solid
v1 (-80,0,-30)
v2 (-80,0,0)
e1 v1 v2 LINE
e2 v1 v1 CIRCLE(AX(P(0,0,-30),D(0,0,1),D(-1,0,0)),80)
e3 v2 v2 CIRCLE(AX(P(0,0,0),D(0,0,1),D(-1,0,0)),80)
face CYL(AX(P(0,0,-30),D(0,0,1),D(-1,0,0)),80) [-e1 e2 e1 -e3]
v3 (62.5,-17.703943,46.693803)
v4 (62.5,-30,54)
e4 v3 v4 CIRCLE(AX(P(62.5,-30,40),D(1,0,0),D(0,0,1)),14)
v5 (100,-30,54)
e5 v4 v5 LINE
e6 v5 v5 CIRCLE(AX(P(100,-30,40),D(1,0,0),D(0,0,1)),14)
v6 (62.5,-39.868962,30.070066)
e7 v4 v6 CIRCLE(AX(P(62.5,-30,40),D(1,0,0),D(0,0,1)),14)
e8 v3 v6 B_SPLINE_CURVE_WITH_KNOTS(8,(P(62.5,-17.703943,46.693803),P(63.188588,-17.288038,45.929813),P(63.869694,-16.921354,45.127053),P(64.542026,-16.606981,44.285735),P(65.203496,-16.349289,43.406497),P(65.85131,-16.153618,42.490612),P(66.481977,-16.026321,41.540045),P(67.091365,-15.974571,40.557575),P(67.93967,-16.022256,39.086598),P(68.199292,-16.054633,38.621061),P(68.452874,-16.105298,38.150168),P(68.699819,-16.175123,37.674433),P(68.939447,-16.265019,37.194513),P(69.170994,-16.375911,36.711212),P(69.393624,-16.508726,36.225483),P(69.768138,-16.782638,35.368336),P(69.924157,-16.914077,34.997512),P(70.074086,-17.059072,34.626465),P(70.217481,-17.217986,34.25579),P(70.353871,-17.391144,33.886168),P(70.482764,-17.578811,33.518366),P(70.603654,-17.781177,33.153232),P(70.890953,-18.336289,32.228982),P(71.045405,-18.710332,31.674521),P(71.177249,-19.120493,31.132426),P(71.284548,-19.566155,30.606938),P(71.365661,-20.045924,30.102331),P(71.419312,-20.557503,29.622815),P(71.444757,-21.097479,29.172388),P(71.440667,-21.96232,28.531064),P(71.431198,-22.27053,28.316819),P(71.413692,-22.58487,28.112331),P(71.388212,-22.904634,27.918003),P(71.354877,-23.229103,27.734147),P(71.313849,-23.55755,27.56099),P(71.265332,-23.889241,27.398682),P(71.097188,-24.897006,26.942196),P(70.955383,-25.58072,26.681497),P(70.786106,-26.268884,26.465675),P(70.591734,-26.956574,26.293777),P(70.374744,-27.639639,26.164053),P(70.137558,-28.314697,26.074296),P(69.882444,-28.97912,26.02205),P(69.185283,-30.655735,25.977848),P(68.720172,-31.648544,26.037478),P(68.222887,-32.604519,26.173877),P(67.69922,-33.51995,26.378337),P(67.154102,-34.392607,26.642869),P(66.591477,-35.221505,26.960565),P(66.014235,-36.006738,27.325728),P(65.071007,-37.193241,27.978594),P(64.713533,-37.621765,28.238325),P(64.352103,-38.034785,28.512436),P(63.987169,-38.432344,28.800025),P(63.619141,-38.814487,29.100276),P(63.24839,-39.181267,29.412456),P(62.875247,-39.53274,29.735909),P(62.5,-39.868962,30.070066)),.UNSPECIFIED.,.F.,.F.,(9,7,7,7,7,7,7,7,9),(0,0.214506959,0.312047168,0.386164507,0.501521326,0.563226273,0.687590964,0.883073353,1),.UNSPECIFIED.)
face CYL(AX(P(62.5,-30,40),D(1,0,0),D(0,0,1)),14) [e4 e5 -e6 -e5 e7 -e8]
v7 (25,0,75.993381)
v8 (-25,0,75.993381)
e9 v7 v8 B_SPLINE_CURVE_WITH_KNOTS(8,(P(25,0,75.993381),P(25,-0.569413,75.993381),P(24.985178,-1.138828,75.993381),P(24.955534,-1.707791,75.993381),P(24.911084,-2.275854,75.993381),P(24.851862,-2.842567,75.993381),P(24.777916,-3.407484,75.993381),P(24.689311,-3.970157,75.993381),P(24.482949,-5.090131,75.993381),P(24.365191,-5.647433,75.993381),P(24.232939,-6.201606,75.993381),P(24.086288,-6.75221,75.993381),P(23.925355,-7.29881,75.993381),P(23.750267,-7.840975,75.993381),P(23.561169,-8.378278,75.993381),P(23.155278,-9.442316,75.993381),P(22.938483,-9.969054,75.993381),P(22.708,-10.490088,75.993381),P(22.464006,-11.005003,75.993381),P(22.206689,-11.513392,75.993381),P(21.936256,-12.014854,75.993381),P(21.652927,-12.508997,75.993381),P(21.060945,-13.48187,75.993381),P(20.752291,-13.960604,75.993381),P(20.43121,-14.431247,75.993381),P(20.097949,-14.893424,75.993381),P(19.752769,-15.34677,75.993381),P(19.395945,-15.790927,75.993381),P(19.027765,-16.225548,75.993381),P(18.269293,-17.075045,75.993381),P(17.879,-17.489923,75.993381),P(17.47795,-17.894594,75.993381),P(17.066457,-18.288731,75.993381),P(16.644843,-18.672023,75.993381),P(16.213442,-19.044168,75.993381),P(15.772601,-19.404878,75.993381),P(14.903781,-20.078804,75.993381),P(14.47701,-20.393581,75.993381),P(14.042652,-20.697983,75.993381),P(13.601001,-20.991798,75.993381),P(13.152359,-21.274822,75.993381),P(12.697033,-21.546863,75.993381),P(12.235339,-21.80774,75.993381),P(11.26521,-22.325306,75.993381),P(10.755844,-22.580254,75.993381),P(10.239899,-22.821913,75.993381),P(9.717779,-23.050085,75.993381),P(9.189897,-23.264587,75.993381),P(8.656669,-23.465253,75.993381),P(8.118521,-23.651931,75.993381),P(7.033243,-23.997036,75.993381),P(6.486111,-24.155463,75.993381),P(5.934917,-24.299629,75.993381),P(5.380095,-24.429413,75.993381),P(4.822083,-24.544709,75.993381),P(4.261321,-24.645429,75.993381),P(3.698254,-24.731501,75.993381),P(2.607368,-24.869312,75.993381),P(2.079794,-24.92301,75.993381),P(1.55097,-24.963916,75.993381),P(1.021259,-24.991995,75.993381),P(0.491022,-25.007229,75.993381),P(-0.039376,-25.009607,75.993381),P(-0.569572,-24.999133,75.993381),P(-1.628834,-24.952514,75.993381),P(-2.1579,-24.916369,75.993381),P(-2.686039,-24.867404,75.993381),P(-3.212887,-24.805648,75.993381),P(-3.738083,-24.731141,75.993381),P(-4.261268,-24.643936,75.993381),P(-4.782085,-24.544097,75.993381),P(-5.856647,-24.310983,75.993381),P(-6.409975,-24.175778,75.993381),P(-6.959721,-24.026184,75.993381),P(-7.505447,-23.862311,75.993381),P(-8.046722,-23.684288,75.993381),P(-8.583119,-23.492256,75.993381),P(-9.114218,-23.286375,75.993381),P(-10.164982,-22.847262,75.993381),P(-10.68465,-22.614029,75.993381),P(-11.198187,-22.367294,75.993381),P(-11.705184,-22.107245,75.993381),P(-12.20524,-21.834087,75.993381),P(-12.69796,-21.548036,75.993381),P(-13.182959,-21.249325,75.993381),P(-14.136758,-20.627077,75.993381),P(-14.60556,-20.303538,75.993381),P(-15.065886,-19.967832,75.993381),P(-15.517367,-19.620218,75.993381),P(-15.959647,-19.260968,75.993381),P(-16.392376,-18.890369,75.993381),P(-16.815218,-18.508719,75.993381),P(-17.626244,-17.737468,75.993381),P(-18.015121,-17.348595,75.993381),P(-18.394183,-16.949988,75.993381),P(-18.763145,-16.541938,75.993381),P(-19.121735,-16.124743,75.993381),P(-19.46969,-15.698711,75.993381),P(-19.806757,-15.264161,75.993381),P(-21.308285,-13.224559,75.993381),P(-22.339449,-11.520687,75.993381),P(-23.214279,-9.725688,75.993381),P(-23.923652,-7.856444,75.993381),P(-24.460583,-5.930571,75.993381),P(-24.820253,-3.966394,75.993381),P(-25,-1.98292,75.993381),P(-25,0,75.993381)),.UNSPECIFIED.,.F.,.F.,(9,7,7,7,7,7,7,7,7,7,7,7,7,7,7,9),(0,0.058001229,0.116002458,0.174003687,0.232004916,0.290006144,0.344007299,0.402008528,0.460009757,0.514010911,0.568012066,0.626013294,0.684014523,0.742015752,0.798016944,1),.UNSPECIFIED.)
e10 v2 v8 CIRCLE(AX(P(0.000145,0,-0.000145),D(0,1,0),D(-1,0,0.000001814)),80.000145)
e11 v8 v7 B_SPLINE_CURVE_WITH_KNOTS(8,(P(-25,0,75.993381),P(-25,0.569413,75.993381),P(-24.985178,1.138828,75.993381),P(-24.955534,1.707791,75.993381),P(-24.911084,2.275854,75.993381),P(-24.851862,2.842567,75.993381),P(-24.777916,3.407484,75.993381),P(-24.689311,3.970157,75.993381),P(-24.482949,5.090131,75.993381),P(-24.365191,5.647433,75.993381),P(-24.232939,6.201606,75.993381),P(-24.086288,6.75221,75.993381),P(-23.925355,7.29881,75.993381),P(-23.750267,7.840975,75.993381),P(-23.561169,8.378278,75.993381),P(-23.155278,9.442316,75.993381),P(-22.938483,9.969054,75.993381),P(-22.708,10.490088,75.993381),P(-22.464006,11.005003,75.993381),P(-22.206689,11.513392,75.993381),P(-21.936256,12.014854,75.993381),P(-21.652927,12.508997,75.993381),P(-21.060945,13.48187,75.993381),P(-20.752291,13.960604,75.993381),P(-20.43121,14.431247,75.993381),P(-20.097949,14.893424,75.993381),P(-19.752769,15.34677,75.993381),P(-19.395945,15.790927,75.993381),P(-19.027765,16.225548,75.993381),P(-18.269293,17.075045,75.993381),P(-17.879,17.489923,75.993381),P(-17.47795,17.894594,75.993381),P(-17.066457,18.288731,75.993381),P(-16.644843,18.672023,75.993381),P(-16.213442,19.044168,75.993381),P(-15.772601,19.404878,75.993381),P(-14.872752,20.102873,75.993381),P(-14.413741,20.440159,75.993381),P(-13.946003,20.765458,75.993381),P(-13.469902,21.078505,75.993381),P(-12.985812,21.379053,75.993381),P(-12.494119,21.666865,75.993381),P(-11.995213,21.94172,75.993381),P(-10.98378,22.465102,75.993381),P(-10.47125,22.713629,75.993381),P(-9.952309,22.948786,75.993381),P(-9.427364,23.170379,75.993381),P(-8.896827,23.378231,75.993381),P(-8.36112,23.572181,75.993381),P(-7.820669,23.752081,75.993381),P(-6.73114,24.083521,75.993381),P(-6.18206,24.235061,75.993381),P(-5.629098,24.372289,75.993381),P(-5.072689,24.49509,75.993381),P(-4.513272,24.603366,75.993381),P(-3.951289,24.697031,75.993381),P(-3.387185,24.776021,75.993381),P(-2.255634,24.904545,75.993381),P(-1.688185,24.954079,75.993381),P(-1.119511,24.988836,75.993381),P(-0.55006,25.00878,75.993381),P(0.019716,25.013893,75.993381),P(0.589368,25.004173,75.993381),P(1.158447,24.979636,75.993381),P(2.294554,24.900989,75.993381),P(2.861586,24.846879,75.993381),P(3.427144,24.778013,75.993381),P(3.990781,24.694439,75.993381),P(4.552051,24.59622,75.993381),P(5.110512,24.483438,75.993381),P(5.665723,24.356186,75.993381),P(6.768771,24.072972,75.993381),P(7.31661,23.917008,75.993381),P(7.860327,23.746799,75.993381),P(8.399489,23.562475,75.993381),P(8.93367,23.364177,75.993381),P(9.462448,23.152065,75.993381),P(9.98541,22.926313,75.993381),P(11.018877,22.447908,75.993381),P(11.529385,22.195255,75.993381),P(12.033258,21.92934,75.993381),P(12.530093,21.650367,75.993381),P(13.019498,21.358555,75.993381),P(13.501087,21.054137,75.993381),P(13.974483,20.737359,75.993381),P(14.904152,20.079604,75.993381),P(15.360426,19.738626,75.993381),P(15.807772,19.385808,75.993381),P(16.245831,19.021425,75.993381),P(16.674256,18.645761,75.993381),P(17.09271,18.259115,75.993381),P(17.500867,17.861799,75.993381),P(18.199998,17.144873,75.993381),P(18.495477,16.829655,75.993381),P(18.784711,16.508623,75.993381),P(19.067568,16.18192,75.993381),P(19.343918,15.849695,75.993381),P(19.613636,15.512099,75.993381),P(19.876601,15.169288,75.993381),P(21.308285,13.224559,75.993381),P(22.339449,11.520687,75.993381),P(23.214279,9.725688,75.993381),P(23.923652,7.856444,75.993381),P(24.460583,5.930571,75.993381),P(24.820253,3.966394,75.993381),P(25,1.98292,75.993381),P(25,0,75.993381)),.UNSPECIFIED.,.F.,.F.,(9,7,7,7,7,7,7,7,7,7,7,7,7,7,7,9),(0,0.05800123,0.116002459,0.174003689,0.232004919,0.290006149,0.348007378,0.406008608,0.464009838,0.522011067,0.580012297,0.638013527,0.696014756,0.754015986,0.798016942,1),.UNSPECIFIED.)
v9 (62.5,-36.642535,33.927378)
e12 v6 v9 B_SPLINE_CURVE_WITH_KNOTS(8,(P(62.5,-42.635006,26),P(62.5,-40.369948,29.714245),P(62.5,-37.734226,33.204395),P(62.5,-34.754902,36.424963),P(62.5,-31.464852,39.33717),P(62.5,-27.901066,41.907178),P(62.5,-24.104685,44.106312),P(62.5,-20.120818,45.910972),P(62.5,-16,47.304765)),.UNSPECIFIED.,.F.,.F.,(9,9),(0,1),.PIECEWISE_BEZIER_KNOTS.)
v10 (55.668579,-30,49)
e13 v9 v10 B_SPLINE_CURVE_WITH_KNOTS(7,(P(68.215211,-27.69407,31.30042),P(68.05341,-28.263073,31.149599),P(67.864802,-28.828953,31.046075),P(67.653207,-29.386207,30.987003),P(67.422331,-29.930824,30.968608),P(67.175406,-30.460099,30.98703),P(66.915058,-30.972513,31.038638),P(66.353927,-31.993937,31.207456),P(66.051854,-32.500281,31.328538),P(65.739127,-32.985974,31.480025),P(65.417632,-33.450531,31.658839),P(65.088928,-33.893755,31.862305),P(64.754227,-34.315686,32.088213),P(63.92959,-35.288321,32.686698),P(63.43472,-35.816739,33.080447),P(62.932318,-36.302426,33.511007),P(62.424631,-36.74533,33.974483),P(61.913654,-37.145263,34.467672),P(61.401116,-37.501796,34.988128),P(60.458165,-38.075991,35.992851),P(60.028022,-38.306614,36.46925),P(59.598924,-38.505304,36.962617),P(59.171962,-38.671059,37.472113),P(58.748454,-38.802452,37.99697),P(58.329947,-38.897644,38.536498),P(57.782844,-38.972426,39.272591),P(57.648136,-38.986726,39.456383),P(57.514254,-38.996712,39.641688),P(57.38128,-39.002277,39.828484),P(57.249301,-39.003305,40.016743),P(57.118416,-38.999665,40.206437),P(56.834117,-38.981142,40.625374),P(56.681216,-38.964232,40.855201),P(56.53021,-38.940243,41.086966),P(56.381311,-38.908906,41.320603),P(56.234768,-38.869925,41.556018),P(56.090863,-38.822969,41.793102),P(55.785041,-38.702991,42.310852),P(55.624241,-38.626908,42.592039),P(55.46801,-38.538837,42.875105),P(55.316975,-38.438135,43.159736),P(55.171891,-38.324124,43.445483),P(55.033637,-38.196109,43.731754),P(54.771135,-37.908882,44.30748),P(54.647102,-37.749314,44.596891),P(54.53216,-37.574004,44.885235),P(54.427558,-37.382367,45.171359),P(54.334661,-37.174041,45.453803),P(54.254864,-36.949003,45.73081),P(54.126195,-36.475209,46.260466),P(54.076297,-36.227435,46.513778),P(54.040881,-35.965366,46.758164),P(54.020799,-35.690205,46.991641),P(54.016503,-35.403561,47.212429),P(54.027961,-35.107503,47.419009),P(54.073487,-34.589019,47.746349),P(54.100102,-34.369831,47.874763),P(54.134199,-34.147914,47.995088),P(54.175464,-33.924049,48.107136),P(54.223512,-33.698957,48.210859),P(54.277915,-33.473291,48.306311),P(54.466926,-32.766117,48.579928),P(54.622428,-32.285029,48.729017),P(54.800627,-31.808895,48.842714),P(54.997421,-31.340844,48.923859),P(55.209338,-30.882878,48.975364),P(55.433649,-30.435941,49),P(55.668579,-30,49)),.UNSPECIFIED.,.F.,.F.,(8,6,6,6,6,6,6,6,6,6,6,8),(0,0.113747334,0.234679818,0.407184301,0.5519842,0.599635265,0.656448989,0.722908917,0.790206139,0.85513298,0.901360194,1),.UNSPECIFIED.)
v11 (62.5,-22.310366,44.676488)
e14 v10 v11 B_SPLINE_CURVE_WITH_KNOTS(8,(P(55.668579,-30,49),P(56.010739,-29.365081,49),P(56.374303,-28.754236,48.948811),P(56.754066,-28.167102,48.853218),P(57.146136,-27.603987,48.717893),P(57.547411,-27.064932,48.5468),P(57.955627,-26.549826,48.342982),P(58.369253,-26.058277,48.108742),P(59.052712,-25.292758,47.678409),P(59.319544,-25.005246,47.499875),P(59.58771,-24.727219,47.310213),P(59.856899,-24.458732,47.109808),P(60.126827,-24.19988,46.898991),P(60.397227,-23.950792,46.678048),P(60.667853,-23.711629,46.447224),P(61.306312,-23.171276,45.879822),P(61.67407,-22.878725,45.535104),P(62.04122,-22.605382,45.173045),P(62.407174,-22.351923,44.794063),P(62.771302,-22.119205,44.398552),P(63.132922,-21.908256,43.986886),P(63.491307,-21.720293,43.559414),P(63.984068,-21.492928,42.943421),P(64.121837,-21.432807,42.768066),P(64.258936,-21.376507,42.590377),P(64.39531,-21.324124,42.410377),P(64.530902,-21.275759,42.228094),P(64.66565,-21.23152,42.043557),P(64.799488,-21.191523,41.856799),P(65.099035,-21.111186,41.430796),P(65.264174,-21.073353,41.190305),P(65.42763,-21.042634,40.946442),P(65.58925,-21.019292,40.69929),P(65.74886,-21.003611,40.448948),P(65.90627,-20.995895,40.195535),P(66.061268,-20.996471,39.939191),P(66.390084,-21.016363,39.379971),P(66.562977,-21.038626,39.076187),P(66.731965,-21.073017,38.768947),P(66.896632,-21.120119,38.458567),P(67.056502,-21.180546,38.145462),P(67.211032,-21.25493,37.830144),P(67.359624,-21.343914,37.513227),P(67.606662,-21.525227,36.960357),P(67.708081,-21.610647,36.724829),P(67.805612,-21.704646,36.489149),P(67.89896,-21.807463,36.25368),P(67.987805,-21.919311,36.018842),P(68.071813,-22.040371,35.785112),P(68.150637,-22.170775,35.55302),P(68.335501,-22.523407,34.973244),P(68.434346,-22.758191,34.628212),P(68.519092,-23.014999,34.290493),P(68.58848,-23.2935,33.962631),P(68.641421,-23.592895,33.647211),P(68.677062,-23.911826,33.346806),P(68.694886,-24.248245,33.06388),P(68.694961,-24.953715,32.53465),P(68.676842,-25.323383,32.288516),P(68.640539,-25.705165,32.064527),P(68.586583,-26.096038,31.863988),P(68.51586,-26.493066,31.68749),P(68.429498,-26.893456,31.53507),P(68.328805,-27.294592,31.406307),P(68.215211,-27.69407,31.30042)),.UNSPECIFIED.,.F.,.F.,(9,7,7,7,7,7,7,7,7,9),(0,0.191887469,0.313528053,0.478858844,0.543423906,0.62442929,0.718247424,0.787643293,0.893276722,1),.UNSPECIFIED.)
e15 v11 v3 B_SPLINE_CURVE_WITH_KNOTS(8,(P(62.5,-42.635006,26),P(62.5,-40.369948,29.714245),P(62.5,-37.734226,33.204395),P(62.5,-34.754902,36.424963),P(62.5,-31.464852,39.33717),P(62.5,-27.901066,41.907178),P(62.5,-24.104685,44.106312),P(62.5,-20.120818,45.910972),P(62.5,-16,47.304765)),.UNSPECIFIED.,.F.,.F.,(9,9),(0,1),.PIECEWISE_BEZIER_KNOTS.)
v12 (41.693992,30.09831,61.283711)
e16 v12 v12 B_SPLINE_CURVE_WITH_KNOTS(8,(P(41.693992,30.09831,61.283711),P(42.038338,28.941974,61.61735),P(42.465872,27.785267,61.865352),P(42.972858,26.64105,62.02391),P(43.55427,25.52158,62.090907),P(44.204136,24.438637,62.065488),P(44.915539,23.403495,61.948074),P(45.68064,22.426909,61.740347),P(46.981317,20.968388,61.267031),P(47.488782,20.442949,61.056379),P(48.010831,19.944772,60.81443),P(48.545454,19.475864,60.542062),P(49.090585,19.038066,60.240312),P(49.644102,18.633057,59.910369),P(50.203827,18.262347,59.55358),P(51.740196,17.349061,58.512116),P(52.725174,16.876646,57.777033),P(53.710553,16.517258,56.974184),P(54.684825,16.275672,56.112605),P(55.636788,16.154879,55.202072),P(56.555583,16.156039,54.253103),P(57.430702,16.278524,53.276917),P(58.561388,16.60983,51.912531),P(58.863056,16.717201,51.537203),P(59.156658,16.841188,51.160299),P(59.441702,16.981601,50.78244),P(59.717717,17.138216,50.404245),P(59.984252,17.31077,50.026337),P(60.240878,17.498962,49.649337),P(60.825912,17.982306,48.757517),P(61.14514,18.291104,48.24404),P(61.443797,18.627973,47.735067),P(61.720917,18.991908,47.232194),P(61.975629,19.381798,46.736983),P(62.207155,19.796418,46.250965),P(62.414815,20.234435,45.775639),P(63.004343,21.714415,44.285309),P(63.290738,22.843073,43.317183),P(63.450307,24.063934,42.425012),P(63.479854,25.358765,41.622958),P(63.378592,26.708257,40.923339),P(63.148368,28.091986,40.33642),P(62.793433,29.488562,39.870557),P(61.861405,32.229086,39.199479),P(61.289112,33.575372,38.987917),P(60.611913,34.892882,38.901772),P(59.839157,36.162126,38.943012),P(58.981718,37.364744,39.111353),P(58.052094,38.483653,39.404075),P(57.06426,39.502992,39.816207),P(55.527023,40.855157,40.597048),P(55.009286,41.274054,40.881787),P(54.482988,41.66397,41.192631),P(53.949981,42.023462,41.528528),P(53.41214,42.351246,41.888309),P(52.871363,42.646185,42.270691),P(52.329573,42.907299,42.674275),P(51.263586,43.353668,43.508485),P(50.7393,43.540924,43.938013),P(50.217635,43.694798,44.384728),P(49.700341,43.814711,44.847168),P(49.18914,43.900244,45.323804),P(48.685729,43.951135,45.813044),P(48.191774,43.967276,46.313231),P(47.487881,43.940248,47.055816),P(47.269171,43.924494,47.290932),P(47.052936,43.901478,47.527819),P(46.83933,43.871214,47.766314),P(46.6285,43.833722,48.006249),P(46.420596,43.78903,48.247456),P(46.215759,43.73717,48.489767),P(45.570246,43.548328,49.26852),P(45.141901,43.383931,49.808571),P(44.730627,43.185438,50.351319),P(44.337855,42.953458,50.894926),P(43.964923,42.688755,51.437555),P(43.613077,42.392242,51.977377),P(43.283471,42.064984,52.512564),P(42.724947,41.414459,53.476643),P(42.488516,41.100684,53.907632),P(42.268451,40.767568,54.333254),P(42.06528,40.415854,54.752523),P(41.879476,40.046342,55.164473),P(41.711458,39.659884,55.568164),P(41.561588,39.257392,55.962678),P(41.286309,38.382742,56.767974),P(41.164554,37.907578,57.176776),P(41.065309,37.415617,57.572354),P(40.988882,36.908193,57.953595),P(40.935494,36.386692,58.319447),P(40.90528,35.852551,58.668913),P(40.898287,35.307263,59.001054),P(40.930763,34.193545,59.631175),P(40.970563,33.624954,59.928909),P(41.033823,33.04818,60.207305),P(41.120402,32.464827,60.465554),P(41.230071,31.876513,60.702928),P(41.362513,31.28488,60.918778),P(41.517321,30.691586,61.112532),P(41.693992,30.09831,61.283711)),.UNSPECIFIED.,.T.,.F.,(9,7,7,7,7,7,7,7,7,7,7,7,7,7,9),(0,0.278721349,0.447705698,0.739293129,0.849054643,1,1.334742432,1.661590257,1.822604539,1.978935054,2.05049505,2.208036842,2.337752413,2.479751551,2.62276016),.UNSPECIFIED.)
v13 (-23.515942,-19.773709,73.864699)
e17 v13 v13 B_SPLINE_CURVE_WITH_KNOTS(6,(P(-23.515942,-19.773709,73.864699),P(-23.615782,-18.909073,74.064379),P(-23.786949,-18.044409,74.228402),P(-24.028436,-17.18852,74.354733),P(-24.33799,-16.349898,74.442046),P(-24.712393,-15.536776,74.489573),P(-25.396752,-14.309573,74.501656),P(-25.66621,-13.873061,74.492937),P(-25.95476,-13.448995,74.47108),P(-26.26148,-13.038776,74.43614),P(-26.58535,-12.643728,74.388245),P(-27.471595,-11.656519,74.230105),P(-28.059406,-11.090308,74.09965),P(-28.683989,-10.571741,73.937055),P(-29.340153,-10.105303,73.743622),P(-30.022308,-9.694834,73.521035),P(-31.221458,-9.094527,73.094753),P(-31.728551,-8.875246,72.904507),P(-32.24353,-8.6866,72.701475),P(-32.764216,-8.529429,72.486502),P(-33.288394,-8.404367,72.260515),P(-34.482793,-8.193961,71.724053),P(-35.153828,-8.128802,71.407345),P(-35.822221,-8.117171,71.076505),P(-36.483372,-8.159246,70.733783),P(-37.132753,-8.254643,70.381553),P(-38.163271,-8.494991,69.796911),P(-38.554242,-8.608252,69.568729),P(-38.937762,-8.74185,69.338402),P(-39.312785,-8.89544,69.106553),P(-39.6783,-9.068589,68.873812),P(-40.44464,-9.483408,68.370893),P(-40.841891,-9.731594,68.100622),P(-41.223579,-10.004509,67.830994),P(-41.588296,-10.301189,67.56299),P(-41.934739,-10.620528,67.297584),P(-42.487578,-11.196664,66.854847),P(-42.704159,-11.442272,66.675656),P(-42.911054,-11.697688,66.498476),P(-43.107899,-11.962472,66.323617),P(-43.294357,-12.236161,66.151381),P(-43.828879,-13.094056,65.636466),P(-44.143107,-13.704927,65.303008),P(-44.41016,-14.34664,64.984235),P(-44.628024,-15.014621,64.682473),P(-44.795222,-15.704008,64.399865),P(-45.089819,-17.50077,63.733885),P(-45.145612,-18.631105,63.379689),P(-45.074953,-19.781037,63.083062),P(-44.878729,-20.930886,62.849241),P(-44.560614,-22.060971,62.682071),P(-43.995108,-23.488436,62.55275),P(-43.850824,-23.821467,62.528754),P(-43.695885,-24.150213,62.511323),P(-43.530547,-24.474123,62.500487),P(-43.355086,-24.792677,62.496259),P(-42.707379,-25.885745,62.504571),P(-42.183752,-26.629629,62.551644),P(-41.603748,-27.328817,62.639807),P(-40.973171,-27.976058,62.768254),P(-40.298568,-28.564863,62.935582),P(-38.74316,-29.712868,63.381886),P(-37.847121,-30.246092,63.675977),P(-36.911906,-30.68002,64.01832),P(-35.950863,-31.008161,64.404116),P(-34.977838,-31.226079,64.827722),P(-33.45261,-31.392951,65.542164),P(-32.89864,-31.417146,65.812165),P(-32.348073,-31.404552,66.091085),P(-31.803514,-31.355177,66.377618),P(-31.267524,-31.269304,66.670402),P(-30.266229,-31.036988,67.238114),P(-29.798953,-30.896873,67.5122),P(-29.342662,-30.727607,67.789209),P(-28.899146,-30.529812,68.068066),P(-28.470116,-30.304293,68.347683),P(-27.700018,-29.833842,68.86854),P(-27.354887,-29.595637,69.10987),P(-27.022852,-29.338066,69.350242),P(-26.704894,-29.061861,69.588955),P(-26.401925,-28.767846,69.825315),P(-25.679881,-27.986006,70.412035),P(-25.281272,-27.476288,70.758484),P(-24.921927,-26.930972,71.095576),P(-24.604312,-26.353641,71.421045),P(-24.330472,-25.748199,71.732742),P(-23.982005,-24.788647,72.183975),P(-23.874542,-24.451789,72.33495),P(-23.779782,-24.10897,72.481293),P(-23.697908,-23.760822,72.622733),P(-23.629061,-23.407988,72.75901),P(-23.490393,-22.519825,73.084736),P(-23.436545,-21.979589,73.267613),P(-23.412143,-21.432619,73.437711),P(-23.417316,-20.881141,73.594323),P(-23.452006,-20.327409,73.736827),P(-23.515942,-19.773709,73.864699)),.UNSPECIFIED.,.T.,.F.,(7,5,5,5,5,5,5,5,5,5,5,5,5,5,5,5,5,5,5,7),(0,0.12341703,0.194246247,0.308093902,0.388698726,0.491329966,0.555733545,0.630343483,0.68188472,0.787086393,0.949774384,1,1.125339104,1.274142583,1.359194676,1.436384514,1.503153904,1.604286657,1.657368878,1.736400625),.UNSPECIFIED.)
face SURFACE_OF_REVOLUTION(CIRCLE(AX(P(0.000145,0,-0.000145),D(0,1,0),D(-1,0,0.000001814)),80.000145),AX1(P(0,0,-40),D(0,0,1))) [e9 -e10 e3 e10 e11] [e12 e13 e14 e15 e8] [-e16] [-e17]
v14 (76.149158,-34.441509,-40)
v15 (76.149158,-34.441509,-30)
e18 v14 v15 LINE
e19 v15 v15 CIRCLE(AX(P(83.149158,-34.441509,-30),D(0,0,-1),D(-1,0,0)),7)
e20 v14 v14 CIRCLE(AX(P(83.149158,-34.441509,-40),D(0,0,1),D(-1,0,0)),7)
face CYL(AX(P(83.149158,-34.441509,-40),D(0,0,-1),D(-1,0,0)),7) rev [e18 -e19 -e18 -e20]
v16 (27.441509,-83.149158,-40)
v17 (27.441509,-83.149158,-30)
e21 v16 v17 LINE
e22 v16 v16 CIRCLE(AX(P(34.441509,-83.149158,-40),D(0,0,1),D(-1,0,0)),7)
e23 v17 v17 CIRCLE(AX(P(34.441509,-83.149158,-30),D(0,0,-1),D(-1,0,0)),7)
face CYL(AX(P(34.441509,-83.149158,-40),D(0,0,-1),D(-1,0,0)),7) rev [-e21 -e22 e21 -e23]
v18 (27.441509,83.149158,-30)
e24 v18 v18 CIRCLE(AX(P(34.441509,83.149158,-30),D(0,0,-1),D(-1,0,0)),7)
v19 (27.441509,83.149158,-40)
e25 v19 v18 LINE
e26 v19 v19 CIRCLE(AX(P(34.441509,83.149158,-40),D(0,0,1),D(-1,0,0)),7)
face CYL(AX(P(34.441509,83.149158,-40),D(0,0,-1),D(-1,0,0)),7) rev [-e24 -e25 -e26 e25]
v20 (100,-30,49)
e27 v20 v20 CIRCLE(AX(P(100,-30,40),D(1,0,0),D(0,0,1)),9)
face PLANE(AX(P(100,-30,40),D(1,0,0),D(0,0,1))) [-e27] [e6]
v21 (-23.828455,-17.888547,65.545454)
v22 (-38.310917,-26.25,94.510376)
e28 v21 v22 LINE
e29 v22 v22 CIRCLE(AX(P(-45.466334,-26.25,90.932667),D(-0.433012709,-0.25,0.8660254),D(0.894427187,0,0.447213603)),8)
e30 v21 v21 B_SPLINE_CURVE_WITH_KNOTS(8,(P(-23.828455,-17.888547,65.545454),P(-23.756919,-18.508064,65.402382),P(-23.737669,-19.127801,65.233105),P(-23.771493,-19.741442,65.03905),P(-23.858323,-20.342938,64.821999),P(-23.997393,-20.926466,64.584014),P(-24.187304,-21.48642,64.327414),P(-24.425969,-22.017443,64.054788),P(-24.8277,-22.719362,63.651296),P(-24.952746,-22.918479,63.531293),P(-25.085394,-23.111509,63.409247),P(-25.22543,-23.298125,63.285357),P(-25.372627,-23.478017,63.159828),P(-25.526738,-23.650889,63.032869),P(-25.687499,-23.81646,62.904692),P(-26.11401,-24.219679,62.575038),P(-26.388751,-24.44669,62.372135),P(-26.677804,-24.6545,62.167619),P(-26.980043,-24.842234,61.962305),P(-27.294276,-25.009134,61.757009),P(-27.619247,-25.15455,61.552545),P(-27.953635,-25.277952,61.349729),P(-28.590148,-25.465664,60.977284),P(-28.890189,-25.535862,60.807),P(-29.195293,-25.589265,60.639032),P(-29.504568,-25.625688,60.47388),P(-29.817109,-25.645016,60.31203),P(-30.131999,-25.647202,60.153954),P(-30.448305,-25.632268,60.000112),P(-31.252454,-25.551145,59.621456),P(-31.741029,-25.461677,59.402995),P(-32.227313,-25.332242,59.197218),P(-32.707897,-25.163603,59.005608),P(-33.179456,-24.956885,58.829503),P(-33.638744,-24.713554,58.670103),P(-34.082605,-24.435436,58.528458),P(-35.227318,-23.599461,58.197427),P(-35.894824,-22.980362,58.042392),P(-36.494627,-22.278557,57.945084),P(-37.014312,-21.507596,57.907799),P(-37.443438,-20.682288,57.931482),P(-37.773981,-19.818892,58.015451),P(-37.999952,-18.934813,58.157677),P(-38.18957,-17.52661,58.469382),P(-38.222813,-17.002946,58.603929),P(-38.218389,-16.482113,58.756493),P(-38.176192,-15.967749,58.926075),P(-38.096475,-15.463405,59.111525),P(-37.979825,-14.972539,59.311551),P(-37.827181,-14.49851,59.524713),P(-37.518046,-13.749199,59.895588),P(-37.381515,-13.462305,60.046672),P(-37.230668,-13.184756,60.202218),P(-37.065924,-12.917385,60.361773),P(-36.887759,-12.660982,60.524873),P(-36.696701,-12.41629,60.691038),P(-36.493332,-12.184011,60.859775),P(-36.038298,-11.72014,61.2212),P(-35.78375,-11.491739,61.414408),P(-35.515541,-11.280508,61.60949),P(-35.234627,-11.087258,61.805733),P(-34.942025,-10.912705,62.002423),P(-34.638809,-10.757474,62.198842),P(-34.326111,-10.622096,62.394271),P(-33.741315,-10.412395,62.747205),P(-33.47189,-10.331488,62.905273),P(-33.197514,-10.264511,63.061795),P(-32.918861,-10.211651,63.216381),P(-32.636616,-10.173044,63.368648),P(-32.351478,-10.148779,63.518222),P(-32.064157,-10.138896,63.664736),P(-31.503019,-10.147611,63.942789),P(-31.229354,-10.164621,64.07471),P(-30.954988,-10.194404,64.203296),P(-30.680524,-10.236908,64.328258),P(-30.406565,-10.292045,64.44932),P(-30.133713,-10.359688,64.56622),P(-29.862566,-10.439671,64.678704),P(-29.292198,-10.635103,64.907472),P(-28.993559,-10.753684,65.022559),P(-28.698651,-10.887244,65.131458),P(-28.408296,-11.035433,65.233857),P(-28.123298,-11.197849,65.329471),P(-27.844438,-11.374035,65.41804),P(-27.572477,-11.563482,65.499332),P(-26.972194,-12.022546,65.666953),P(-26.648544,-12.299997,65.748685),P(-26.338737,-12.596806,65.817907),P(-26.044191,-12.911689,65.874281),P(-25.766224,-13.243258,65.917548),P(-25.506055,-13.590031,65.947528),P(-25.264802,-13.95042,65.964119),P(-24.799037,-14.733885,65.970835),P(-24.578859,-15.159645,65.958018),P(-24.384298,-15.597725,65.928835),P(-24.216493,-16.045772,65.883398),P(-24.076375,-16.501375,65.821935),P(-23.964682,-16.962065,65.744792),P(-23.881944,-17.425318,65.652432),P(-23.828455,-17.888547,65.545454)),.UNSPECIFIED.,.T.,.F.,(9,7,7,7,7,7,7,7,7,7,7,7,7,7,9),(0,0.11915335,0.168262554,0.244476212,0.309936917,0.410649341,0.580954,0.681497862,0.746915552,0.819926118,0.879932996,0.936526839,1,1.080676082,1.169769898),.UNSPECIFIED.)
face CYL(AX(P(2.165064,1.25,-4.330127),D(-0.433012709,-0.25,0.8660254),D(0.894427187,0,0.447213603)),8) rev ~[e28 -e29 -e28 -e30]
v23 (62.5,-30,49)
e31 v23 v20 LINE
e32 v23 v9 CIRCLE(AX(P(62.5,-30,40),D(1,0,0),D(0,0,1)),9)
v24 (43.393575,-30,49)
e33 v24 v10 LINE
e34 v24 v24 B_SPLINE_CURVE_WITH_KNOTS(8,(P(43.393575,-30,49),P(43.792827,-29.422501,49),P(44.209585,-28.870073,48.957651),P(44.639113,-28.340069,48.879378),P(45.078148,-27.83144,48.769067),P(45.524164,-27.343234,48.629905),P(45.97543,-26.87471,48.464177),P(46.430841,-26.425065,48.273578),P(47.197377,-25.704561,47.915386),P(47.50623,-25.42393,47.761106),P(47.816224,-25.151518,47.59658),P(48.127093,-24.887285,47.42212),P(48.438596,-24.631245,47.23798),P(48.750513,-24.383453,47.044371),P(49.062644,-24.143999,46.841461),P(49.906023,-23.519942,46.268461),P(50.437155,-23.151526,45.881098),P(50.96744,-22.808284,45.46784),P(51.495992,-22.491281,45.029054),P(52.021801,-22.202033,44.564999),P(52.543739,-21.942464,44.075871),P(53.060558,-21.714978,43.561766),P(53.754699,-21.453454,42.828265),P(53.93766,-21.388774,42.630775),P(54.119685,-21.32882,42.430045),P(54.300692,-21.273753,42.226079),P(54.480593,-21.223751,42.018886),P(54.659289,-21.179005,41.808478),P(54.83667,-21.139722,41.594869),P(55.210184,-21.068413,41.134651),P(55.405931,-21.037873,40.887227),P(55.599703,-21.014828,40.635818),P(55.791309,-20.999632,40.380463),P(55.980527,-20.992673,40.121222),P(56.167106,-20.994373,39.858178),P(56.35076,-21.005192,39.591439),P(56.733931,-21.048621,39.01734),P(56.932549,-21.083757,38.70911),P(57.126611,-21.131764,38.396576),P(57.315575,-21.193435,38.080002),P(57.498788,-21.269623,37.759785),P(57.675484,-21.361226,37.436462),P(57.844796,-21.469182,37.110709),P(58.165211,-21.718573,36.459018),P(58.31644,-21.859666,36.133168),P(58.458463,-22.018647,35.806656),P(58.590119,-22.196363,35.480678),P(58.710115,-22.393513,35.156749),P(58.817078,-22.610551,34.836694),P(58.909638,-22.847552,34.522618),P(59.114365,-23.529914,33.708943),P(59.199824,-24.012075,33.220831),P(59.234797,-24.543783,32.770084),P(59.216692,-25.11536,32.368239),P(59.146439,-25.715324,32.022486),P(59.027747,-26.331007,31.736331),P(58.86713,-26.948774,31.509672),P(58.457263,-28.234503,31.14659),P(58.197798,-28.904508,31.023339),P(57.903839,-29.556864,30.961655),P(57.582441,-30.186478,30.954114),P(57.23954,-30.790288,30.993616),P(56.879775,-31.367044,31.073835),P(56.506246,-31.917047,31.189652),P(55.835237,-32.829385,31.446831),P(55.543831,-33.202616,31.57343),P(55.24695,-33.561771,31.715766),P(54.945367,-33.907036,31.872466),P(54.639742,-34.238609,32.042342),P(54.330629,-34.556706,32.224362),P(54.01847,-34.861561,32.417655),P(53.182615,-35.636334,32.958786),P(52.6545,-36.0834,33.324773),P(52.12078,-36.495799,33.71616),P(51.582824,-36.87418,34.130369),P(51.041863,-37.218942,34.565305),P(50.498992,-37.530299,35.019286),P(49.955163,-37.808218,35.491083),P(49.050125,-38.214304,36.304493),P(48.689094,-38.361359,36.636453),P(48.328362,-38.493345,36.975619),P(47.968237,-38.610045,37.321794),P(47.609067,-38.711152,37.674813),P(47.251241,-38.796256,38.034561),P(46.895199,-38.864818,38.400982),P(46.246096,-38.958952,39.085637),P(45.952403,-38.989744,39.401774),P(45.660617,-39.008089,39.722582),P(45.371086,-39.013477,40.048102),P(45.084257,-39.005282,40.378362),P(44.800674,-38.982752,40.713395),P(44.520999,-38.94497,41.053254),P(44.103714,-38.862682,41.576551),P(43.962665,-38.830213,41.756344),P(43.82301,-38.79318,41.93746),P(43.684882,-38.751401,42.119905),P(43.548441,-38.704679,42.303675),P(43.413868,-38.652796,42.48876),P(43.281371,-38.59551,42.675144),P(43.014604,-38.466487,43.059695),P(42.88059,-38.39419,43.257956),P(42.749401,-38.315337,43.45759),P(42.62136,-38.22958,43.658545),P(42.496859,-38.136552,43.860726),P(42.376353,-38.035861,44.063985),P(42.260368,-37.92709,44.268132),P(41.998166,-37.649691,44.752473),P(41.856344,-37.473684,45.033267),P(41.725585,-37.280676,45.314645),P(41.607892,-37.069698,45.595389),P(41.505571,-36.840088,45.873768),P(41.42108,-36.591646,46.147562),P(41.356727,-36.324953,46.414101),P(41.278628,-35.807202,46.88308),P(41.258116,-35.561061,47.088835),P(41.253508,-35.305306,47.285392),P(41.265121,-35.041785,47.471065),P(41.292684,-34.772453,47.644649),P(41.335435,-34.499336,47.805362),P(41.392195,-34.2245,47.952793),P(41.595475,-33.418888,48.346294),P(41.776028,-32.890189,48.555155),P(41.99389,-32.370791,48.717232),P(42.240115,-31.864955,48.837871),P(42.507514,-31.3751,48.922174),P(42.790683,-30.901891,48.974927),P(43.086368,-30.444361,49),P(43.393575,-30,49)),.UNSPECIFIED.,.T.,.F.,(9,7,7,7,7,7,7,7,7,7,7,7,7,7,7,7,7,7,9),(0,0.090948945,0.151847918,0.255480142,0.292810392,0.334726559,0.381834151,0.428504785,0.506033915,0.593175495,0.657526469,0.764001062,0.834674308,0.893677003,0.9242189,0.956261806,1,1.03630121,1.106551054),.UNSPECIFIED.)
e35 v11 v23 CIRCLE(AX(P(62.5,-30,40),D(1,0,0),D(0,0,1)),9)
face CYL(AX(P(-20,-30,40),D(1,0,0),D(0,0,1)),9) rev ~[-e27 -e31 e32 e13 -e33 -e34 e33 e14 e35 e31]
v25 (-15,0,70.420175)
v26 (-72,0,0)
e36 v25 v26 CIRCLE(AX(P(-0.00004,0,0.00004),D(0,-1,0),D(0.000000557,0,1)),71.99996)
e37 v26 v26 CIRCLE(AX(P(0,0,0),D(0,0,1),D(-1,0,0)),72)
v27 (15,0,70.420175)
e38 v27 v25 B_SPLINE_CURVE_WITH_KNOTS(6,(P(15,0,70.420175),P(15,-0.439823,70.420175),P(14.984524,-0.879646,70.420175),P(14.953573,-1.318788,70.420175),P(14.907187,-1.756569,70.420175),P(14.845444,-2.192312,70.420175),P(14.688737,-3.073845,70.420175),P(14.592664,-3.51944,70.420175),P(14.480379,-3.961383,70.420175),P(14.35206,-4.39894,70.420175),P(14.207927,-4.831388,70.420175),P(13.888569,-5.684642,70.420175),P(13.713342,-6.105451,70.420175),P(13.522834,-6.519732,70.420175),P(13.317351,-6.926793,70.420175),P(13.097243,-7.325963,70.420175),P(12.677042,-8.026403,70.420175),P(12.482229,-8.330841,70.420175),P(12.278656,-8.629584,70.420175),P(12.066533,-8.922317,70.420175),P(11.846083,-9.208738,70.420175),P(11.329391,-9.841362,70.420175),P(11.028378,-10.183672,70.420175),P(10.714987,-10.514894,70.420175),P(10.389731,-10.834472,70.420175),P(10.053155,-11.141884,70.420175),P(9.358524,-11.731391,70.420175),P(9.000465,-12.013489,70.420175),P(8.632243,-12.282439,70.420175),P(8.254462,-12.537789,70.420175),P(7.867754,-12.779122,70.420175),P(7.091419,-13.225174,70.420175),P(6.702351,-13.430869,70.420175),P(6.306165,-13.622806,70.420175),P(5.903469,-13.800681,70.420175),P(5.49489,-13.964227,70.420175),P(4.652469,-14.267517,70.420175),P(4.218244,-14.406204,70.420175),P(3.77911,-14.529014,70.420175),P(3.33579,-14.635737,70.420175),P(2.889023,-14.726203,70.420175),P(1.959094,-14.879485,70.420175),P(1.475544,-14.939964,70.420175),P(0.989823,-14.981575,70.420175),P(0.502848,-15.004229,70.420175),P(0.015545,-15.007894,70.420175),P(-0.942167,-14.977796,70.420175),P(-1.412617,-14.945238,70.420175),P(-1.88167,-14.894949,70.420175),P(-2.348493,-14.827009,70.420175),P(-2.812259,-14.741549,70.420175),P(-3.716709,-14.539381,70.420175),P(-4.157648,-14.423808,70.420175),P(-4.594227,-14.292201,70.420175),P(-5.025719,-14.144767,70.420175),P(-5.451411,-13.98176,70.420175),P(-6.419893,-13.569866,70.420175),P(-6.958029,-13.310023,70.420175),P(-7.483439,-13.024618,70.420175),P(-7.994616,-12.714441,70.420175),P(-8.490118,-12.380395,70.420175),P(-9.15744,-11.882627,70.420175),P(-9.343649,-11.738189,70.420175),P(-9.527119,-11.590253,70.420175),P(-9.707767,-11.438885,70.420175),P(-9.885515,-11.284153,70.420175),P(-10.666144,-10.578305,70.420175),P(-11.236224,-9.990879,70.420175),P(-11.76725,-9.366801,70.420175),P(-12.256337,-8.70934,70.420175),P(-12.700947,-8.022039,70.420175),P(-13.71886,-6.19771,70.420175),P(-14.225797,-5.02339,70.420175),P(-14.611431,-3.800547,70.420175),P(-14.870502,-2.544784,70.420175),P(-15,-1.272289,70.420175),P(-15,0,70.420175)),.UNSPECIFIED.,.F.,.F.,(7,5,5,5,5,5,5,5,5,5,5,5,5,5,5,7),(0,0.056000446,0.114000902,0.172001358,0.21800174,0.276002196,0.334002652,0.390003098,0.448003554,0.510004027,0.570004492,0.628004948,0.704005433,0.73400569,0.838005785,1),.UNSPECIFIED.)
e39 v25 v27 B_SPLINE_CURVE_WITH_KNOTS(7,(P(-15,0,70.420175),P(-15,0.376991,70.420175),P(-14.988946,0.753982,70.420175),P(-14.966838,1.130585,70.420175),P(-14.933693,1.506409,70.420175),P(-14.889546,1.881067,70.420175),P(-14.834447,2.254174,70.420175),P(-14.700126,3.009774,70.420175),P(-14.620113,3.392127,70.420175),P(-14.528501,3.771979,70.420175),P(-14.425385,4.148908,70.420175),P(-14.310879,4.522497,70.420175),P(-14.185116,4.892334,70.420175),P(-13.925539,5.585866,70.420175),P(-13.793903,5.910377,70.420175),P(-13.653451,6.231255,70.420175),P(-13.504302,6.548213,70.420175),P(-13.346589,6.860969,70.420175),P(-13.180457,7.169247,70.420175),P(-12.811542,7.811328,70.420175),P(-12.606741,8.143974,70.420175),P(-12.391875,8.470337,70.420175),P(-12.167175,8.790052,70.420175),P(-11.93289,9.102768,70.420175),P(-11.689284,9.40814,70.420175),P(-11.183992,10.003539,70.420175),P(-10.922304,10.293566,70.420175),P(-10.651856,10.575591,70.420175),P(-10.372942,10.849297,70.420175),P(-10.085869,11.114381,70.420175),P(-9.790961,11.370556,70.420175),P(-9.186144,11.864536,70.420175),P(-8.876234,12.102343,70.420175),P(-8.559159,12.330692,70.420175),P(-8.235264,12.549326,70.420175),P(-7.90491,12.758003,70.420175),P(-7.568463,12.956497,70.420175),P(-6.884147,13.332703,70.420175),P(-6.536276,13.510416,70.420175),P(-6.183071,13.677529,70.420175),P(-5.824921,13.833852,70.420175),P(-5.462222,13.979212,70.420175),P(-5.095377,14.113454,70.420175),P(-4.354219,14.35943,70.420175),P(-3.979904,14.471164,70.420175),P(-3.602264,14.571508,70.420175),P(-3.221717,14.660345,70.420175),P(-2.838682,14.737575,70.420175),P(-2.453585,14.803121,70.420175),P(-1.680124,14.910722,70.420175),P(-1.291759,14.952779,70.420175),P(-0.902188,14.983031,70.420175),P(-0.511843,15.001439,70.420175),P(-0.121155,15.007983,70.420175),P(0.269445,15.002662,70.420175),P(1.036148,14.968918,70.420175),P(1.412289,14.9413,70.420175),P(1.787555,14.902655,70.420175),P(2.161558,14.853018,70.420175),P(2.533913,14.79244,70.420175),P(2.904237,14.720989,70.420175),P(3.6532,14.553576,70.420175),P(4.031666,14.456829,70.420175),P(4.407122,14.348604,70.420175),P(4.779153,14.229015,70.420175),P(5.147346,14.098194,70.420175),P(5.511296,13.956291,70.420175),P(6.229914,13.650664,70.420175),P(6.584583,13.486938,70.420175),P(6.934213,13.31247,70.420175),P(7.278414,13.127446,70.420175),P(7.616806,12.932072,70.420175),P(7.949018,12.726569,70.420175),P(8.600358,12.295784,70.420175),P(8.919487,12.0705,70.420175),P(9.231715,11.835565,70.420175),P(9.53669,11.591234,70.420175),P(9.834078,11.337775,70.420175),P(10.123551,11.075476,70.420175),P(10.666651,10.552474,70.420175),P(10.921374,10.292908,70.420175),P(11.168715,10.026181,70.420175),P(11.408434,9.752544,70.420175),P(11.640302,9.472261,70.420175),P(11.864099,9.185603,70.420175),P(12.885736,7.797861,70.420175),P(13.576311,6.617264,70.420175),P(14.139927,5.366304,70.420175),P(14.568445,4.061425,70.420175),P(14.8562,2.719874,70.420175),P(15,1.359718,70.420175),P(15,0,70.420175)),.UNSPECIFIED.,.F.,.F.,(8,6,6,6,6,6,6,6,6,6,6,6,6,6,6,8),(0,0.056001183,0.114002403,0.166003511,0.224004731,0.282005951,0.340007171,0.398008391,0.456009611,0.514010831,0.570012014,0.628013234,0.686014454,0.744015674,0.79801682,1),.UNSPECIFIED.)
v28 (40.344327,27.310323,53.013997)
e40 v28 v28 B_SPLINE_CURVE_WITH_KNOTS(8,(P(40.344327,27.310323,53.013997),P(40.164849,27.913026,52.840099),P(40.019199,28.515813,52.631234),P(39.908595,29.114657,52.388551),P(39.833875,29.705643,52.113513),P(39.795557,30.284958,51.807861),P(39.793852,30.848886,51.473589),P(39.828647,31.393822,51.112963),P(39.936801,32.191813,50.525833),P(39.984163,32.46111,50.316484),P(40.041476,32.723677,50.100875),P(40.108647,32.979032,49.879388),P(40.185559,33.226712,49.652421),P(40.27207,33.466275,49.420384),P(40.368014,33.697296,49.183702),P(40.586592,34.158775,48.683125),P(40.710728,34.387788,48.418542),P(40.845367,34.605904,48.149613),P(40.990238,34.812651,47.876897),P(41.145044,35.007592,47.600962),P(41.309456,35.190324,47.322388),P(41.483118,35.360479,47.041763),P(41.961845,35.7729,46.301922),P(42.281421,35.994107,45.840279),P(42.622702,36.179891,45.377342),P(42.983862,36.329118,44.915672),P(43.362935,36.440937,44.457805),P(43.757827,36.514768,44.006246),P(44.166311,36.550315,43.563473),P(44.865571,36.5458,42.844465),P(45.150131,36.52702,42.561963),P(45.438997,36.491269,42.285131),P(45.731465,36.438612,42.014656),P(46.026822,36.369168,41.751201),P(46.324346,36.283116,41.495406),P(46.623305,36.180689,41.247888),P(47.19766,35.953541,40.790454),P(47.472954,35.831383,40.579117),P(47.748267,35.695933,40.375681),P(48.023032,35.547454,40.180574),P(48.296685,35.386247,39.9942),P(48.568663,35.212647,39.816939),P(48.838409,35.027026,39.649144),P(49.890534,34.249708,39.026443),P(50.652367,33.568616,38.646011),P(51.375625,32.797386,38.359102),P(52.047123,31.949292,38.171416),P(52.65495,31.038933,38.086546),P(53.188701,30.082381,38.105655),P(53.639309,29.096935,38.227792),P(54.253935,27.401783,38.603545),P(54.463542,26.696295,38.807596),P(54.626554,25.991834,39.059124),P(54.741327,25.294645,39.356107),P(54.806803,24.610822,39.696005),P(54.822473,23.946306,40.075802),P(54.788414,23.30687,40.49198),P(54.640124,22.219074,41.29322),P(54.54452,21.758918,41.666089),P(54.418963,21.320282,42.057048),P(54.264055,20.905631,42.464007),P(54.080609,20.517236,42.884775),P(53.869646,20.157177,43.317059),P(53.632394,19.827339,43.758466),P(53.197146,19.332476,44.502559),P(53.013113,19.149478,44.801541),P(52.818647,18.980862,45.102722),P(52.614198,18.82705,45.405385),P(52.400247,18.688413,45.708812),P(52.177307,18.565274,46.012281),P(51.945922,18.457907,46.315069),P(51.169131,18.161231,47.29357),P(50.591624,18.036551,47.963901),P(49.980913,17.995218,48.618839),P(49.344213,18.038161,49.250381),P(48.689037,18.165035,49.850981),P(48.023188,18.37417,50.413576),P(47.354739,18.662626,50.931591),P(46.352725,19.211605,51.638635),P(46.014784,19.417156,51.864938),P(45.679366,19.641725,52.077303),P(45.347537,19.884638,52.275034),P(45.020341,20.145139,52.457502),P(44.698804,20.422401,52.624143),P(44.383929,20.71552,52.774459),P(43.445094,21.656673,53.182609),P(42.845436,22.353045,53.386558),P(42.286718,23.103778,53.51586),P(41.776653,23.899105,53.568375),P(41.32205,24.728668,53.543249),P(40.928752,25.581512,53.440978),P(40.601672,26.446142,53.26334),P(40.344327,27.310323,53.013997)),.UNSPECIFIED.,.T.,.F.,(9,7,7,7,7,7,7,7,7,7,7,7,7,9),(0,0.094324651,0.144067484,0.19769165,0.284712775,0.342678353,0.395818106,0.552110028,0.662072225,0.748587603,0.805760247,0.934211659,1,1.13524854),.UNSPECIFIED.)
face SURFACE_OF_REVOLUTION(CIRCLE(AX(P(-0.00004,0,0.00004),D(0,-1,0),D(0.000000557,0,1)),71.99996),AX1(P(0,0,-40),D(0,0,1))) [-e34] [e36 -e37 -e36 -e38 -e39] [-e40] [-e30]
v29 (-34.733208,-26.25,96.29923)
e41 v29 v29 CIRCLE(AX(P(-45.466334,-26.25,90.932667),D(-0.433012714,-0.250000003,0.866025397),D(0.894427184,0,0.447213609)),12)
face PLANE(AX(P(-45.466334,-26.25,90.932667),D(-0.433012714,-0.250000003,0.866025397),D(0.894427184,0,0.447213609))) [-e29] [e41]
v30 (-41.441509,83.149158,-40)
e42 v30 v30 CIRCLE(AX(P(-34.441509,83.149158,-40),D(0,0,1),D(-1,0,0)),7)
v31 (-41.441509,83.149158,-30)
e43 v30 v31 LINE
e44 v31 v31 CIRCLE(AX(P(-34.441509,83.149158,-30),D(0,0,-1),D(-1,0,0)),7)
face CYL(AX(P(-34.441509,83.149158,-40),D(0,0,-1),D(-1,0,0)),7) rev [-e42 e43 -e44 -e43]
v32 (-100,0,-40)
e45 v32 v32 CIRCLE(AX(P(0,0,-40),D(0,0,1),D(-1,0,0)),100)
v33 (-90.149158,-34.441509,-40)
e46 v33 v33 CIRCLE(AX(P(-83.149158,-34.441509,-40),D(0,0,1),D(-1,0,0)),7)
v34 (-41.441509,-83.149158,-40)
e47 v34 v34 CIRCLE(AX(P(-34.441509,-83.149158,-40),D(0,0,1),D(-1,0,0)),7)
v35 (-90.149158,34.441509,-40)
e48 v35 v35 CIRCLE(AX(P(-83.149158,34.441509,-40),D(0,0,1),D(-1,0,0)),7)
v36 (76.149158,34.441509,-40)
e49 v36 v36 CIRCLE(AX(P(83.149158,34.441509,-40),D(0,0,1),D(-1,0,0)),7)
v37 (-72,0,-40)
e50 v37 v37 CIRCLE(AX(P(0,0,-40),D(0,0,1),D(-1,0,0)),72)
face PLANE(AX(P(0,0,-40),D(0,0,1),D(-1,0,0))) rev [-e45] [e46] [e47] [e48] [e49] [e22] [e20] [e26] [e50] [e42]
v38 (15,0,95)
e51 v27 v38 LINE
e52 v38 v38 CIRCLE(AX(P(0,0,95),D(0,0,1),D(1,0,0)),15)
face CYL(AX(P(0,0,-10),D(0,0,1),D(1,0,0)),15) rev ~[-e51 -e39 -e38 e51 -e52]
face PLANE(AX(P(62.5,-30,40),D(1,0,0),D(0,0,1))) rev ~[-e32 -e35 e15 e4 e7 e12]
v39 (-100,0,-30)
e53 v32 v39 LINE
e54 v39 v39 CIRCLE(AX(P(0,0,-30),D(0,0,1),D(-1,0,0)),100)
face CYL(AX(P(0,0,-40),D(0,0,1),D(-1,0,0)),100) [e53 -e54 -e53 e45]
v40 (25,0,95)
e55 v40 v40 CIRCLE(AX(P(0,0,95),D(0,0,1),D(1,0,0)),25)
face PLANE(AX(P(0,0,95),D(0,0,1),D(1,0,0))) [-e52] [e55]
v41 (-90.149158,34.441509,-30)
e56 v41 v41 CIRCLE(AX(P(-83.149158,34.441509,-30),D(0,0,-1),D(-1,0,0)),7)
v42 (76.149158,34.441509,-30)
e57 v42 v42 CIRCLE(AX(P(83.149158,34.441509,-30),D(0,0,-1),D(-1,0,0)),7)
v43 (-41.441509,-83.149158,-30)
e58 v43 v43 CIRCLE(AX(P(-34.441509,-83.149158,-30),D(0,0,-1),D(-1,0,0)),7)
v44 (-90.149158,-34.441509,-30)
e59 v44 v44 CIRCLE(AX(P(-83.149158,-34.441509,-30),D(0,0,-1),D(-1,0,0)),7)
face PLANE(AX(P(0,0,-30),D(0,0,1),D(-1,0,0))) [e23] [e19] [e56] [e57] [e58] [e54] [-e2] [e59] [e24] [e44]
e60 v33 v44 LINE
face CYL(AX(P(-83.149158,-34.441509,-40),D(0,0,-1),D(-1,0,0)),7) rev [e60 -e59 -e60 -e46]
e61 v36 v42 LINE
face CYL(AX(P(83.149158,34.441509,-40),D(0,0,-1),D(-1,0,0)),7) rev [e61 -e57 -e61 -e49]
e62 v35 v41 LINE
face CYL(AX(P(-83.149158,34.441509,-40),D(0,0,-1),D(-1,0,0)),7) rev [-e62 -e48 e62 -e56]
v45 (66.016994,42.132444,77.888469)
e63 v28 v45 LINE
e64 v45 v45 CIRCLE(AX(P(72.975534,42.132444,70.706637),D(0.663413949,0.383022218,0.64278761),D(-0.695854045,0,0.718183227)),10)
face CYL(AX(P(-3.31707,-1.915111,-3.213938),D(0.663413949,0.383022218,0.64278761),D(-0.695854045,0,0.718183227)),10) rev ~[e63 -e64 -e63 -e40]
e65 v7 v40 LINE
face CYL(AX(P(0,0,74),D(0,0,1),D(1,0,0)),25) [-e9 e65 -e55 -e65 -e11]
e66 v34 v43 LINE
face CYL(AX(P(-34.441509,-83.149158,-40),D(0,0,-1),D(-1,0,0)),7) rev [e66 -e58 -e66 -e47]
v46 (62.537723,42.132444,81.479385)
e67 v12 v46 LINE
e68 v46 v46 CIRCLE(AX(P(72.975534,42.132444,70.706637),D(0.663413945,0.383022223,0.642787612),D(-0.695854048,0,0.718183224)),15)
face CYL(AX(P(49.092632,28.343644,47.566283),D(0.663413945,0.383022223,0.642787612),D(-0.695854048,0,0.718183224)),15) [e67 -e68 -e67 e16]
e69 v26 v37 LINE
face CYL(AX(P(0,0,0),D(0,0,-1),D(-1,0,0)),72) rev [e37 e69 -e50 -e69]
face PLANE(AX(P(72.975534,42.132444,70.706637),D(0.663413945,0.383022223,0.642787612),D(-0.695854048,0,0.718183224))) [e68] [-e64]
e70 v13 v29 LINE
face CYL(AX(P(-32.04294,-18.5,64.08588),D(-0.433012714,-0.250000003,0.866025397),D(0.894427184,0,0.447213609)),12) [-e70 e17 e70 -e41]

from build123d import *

# Parameters (mm, degrees)
SWEEP_2_PROFILE_R   = 15
SWEEP_4_PROFILE_R   = 12
SWEEP_6_PROFILE_R   = 14
SWEEP_8_PROFILE_R   = 25
SWEEP_2_2_PROFILE_R = 10
SWEEP_4_2_PROFILE_R = 8
SWEEP_6_2_PROFILE_R = 9
SWEEP_8_2_PROFILE_R = 15
SKETCH_20_R         = 7
CUT_EXTRUDE_2_DEPTH = 11


with BuildPart() as part:
    # 草图1 → 旋转1 (revolve)
    with BuildSketch(Plane(origin=(0, 0, 0), x_dir=(1, 0, 0), z_dir=(0, 1, 0)), mode=Mode.PRIVATE) as revolve_1_sk:
        with BuildLine():
            Line((72, 40), (100, 40))
            Line((100, 40), (100, 30))
            Line((100, 30), (80, 30))
            Line((80, 30), (80, 0))
            ThreePointArc((80, 0), (56.5685, -56.5685), (0, -80))
            Line((0, -80), (0, -72))
            ThreePointArc((0, -72), (50.9117, -50.9117), (72, 0))
            Line((72, 0), (72, 30))
            Line((72, 30), (72, 40))
        make_face()
    revolve(revolve_1_sk.sketch.rotate(Axis((0, 0, -40), (0, 0, 1)), 180), axis=Axis((0, 0, -40), (0, 0, 1)))

    # Sweep 2: sweep along a curve in space
    with BuildLine() as sweep_2_path:
        Line((49.092632, 28.343644, 47.566283), (72.975534, 42.132444, 70.706637))
    # Sweep 2 profile (on start of the path) → Sweep 2 (sweep)
    with BuildSketch(Plane(origin=(49.092632, 28.343644, 47.566283), x_dir=(-0.6958540483446167, 0, 0.7181832241165258), z_dir=(0.6634139453077733, 0.38302222272066533, 0.642787611947598))):
        Circle(SWEEP_2_PROFILE_R)
    sweep(path=sweep_2_path.line)

    # Sweep 4: sweep along a curve in space
    with BuildLine() as sweep_4_path:
        Line((-32.04294, -18.5, 64.08588), (-45.466334, -26.25, 90.932667))
    # Sweep 4 profile (on start of the path) → Sweep 4 (sweep)
    with BuildSketch(Plane(origin=(-32.04294, -18.5, 64.08588), x_dir=(0.8944271843367185, 0, 0.4472136088263523), z_dir=(-0.43301271447556855, -0.2500000027702128, 0.8660253966930723))):
        Circle(SWEEP_4_PROFILE_R)
    sweep(path=sweep_4_path.line)

    # Sweep 6: sweep along a curve in space
    with BuildLine() as sweep_6_path:
        Line((62.5, -30, 40), (100, -30, 40))
    # Sweep 6 profile (on start of the path) → Sweep 6 (sweep)
    with BuildSketch(Plane(origin=(62.5, -30, 40), x_dir=(0, 0, 1), z_dir=(1, 0, 0))):
        Circle(SWEEP_6_PROFILE_R)
    sweep(path=sweep_6_path.line)

    # Sweep 8: sweep along a curve in space
    with BuildLine() as sweep_8_path:
        Line((0, 0, 74), (0, 0, 95))
    # Sweep 8 profile (on start of the path) → Sweep 8 (sweep)
    with BuildSketch(Plane.XY.offset(74)):
        Circle(SWEEP_8_PROFILE_R)
    sweep(path=sweep_8_path.line)

    # Sweep 2 2: sweep along a curve in space
    with BuildLine() as sweep_2_2_path:
        Line((-3.31707, -1.915111, -3.213938), (72.975534, 42.132444, 70.706637))
    # Sweep 2 2 profile (on start of the path) → Sweep 2 2 (sweep, cut)
    with BuildSketch(Plane(origin=(-3.31707, -1.915111, -3.213938), x_dir=(-0.6958540451664025, 0, 0.7181832271959254), z_dir=(0.6634139494586755, 0.38302221833387984, 0.6427876102774817))):
        Circle(SWEEP_2_2_PROFILE_R)
    sweep(path=sweep_2_2_path.line, mode=Mode.SUBTRACT)

    # Sweep 4 2: sweep along a curve in space
    with BuildLine() as sweep_4_2_path:
        Line((2.165064, 1.25, -4.330127), (-45.466334, -26.25, 90.932667))
    # Sweep 4 2 profile (on start of the path) → Sweep 4 2 (sweep, cut)
    with BuildSketch(Plane(origin=(2.165064, 1.25, -4.330127), x_dir=(0.8944271872442957, 0, 0.4472136030111984), z_dir=(-0.43301270916031925, -0.250000000040074, 0.8660254001388203))):
        Circle(SWEEP_4_2_PROFILE_R)
    sweep(path=sweep_4_2_path.line, mode=Mode.SUBTRACT)

    # Sweep 6 2: sweep along a curve in space
    with BuildLine() as sweep_6_2_path:
        Line((-20, -30, 40), (100, -30, 40))
    # Sweep 6 2 profile (on start of the path) → Sweep 6 2 (sweep, cut)
    with BuildSketch(Plane(origin=(-20, -30, 40), x_dir=(0, 0, 1), z_dir=(1, 0, 0))):
        Circle(SWEEP_6_2_PROFILE_R)
    sweep(path=sweep_6_2_path.line, mode=Mode.SUBTRACT)

    # Sweep 8 2: sweep along a curve in space
    with BuildLine() as sweep_8_2_path:
        Line((0, 0, -10), (0, 0, 95))
    # Sweep 8 2 profile (on start of the path) → Sweep 8 2 (sweep, cut)
    with BuildSketch(Plane.XY.offset(-10)):
        Circle(SWEEP_8_2_PROFILE_R)
    sweep(path=sweep_8_2_path.line, mode=Mode.SUBTRACT)

    # 草图20 → 切除-拉伸2 (cut)
    with BuildSketch(Plane.XY.offset(-40)):
        with Locations(Location((83.149158, 34.441509, 0), (0, 0, 180))):
            Circle(SKETCH_20_R)
        with Locations(Location((34.441509, 83.149158, 0), (0, 0, 180))):
            Circle(SKETCH_20_R)
        with Locations(Location((-34.441509, 83.149158, 0), (0, 0, 180))):
            Circle(SKETCH_20_R)
        with Locations(Location((-83.149158, 34.441509, 0), (0, 0, 180))):
            Circle(SKETCH_20_R)
        with Locations(Location((-83.149158, -34.441509, 0), (0, 0, 180))):
            Circle(SKETCH_20_R)
        with Locations(Location((-34.441509, -83.149158, 0), (0, 0, 180))):
            Circle(SKETCH_20_R)
        with Locations(Location((34.441509, -83.149158, 0), (0, 0, 180))):
            Circle(SKETCH_20_R)
        with Locations(Location((83.149158, -34.441509, 0), (0, 0, 180))):
            Circle(SKETCH_20_R)
    extrude(amount=CUT_EXTRUDE_2_DEPTH, mode=Mode.SUBTRACT)


solid = part.part
